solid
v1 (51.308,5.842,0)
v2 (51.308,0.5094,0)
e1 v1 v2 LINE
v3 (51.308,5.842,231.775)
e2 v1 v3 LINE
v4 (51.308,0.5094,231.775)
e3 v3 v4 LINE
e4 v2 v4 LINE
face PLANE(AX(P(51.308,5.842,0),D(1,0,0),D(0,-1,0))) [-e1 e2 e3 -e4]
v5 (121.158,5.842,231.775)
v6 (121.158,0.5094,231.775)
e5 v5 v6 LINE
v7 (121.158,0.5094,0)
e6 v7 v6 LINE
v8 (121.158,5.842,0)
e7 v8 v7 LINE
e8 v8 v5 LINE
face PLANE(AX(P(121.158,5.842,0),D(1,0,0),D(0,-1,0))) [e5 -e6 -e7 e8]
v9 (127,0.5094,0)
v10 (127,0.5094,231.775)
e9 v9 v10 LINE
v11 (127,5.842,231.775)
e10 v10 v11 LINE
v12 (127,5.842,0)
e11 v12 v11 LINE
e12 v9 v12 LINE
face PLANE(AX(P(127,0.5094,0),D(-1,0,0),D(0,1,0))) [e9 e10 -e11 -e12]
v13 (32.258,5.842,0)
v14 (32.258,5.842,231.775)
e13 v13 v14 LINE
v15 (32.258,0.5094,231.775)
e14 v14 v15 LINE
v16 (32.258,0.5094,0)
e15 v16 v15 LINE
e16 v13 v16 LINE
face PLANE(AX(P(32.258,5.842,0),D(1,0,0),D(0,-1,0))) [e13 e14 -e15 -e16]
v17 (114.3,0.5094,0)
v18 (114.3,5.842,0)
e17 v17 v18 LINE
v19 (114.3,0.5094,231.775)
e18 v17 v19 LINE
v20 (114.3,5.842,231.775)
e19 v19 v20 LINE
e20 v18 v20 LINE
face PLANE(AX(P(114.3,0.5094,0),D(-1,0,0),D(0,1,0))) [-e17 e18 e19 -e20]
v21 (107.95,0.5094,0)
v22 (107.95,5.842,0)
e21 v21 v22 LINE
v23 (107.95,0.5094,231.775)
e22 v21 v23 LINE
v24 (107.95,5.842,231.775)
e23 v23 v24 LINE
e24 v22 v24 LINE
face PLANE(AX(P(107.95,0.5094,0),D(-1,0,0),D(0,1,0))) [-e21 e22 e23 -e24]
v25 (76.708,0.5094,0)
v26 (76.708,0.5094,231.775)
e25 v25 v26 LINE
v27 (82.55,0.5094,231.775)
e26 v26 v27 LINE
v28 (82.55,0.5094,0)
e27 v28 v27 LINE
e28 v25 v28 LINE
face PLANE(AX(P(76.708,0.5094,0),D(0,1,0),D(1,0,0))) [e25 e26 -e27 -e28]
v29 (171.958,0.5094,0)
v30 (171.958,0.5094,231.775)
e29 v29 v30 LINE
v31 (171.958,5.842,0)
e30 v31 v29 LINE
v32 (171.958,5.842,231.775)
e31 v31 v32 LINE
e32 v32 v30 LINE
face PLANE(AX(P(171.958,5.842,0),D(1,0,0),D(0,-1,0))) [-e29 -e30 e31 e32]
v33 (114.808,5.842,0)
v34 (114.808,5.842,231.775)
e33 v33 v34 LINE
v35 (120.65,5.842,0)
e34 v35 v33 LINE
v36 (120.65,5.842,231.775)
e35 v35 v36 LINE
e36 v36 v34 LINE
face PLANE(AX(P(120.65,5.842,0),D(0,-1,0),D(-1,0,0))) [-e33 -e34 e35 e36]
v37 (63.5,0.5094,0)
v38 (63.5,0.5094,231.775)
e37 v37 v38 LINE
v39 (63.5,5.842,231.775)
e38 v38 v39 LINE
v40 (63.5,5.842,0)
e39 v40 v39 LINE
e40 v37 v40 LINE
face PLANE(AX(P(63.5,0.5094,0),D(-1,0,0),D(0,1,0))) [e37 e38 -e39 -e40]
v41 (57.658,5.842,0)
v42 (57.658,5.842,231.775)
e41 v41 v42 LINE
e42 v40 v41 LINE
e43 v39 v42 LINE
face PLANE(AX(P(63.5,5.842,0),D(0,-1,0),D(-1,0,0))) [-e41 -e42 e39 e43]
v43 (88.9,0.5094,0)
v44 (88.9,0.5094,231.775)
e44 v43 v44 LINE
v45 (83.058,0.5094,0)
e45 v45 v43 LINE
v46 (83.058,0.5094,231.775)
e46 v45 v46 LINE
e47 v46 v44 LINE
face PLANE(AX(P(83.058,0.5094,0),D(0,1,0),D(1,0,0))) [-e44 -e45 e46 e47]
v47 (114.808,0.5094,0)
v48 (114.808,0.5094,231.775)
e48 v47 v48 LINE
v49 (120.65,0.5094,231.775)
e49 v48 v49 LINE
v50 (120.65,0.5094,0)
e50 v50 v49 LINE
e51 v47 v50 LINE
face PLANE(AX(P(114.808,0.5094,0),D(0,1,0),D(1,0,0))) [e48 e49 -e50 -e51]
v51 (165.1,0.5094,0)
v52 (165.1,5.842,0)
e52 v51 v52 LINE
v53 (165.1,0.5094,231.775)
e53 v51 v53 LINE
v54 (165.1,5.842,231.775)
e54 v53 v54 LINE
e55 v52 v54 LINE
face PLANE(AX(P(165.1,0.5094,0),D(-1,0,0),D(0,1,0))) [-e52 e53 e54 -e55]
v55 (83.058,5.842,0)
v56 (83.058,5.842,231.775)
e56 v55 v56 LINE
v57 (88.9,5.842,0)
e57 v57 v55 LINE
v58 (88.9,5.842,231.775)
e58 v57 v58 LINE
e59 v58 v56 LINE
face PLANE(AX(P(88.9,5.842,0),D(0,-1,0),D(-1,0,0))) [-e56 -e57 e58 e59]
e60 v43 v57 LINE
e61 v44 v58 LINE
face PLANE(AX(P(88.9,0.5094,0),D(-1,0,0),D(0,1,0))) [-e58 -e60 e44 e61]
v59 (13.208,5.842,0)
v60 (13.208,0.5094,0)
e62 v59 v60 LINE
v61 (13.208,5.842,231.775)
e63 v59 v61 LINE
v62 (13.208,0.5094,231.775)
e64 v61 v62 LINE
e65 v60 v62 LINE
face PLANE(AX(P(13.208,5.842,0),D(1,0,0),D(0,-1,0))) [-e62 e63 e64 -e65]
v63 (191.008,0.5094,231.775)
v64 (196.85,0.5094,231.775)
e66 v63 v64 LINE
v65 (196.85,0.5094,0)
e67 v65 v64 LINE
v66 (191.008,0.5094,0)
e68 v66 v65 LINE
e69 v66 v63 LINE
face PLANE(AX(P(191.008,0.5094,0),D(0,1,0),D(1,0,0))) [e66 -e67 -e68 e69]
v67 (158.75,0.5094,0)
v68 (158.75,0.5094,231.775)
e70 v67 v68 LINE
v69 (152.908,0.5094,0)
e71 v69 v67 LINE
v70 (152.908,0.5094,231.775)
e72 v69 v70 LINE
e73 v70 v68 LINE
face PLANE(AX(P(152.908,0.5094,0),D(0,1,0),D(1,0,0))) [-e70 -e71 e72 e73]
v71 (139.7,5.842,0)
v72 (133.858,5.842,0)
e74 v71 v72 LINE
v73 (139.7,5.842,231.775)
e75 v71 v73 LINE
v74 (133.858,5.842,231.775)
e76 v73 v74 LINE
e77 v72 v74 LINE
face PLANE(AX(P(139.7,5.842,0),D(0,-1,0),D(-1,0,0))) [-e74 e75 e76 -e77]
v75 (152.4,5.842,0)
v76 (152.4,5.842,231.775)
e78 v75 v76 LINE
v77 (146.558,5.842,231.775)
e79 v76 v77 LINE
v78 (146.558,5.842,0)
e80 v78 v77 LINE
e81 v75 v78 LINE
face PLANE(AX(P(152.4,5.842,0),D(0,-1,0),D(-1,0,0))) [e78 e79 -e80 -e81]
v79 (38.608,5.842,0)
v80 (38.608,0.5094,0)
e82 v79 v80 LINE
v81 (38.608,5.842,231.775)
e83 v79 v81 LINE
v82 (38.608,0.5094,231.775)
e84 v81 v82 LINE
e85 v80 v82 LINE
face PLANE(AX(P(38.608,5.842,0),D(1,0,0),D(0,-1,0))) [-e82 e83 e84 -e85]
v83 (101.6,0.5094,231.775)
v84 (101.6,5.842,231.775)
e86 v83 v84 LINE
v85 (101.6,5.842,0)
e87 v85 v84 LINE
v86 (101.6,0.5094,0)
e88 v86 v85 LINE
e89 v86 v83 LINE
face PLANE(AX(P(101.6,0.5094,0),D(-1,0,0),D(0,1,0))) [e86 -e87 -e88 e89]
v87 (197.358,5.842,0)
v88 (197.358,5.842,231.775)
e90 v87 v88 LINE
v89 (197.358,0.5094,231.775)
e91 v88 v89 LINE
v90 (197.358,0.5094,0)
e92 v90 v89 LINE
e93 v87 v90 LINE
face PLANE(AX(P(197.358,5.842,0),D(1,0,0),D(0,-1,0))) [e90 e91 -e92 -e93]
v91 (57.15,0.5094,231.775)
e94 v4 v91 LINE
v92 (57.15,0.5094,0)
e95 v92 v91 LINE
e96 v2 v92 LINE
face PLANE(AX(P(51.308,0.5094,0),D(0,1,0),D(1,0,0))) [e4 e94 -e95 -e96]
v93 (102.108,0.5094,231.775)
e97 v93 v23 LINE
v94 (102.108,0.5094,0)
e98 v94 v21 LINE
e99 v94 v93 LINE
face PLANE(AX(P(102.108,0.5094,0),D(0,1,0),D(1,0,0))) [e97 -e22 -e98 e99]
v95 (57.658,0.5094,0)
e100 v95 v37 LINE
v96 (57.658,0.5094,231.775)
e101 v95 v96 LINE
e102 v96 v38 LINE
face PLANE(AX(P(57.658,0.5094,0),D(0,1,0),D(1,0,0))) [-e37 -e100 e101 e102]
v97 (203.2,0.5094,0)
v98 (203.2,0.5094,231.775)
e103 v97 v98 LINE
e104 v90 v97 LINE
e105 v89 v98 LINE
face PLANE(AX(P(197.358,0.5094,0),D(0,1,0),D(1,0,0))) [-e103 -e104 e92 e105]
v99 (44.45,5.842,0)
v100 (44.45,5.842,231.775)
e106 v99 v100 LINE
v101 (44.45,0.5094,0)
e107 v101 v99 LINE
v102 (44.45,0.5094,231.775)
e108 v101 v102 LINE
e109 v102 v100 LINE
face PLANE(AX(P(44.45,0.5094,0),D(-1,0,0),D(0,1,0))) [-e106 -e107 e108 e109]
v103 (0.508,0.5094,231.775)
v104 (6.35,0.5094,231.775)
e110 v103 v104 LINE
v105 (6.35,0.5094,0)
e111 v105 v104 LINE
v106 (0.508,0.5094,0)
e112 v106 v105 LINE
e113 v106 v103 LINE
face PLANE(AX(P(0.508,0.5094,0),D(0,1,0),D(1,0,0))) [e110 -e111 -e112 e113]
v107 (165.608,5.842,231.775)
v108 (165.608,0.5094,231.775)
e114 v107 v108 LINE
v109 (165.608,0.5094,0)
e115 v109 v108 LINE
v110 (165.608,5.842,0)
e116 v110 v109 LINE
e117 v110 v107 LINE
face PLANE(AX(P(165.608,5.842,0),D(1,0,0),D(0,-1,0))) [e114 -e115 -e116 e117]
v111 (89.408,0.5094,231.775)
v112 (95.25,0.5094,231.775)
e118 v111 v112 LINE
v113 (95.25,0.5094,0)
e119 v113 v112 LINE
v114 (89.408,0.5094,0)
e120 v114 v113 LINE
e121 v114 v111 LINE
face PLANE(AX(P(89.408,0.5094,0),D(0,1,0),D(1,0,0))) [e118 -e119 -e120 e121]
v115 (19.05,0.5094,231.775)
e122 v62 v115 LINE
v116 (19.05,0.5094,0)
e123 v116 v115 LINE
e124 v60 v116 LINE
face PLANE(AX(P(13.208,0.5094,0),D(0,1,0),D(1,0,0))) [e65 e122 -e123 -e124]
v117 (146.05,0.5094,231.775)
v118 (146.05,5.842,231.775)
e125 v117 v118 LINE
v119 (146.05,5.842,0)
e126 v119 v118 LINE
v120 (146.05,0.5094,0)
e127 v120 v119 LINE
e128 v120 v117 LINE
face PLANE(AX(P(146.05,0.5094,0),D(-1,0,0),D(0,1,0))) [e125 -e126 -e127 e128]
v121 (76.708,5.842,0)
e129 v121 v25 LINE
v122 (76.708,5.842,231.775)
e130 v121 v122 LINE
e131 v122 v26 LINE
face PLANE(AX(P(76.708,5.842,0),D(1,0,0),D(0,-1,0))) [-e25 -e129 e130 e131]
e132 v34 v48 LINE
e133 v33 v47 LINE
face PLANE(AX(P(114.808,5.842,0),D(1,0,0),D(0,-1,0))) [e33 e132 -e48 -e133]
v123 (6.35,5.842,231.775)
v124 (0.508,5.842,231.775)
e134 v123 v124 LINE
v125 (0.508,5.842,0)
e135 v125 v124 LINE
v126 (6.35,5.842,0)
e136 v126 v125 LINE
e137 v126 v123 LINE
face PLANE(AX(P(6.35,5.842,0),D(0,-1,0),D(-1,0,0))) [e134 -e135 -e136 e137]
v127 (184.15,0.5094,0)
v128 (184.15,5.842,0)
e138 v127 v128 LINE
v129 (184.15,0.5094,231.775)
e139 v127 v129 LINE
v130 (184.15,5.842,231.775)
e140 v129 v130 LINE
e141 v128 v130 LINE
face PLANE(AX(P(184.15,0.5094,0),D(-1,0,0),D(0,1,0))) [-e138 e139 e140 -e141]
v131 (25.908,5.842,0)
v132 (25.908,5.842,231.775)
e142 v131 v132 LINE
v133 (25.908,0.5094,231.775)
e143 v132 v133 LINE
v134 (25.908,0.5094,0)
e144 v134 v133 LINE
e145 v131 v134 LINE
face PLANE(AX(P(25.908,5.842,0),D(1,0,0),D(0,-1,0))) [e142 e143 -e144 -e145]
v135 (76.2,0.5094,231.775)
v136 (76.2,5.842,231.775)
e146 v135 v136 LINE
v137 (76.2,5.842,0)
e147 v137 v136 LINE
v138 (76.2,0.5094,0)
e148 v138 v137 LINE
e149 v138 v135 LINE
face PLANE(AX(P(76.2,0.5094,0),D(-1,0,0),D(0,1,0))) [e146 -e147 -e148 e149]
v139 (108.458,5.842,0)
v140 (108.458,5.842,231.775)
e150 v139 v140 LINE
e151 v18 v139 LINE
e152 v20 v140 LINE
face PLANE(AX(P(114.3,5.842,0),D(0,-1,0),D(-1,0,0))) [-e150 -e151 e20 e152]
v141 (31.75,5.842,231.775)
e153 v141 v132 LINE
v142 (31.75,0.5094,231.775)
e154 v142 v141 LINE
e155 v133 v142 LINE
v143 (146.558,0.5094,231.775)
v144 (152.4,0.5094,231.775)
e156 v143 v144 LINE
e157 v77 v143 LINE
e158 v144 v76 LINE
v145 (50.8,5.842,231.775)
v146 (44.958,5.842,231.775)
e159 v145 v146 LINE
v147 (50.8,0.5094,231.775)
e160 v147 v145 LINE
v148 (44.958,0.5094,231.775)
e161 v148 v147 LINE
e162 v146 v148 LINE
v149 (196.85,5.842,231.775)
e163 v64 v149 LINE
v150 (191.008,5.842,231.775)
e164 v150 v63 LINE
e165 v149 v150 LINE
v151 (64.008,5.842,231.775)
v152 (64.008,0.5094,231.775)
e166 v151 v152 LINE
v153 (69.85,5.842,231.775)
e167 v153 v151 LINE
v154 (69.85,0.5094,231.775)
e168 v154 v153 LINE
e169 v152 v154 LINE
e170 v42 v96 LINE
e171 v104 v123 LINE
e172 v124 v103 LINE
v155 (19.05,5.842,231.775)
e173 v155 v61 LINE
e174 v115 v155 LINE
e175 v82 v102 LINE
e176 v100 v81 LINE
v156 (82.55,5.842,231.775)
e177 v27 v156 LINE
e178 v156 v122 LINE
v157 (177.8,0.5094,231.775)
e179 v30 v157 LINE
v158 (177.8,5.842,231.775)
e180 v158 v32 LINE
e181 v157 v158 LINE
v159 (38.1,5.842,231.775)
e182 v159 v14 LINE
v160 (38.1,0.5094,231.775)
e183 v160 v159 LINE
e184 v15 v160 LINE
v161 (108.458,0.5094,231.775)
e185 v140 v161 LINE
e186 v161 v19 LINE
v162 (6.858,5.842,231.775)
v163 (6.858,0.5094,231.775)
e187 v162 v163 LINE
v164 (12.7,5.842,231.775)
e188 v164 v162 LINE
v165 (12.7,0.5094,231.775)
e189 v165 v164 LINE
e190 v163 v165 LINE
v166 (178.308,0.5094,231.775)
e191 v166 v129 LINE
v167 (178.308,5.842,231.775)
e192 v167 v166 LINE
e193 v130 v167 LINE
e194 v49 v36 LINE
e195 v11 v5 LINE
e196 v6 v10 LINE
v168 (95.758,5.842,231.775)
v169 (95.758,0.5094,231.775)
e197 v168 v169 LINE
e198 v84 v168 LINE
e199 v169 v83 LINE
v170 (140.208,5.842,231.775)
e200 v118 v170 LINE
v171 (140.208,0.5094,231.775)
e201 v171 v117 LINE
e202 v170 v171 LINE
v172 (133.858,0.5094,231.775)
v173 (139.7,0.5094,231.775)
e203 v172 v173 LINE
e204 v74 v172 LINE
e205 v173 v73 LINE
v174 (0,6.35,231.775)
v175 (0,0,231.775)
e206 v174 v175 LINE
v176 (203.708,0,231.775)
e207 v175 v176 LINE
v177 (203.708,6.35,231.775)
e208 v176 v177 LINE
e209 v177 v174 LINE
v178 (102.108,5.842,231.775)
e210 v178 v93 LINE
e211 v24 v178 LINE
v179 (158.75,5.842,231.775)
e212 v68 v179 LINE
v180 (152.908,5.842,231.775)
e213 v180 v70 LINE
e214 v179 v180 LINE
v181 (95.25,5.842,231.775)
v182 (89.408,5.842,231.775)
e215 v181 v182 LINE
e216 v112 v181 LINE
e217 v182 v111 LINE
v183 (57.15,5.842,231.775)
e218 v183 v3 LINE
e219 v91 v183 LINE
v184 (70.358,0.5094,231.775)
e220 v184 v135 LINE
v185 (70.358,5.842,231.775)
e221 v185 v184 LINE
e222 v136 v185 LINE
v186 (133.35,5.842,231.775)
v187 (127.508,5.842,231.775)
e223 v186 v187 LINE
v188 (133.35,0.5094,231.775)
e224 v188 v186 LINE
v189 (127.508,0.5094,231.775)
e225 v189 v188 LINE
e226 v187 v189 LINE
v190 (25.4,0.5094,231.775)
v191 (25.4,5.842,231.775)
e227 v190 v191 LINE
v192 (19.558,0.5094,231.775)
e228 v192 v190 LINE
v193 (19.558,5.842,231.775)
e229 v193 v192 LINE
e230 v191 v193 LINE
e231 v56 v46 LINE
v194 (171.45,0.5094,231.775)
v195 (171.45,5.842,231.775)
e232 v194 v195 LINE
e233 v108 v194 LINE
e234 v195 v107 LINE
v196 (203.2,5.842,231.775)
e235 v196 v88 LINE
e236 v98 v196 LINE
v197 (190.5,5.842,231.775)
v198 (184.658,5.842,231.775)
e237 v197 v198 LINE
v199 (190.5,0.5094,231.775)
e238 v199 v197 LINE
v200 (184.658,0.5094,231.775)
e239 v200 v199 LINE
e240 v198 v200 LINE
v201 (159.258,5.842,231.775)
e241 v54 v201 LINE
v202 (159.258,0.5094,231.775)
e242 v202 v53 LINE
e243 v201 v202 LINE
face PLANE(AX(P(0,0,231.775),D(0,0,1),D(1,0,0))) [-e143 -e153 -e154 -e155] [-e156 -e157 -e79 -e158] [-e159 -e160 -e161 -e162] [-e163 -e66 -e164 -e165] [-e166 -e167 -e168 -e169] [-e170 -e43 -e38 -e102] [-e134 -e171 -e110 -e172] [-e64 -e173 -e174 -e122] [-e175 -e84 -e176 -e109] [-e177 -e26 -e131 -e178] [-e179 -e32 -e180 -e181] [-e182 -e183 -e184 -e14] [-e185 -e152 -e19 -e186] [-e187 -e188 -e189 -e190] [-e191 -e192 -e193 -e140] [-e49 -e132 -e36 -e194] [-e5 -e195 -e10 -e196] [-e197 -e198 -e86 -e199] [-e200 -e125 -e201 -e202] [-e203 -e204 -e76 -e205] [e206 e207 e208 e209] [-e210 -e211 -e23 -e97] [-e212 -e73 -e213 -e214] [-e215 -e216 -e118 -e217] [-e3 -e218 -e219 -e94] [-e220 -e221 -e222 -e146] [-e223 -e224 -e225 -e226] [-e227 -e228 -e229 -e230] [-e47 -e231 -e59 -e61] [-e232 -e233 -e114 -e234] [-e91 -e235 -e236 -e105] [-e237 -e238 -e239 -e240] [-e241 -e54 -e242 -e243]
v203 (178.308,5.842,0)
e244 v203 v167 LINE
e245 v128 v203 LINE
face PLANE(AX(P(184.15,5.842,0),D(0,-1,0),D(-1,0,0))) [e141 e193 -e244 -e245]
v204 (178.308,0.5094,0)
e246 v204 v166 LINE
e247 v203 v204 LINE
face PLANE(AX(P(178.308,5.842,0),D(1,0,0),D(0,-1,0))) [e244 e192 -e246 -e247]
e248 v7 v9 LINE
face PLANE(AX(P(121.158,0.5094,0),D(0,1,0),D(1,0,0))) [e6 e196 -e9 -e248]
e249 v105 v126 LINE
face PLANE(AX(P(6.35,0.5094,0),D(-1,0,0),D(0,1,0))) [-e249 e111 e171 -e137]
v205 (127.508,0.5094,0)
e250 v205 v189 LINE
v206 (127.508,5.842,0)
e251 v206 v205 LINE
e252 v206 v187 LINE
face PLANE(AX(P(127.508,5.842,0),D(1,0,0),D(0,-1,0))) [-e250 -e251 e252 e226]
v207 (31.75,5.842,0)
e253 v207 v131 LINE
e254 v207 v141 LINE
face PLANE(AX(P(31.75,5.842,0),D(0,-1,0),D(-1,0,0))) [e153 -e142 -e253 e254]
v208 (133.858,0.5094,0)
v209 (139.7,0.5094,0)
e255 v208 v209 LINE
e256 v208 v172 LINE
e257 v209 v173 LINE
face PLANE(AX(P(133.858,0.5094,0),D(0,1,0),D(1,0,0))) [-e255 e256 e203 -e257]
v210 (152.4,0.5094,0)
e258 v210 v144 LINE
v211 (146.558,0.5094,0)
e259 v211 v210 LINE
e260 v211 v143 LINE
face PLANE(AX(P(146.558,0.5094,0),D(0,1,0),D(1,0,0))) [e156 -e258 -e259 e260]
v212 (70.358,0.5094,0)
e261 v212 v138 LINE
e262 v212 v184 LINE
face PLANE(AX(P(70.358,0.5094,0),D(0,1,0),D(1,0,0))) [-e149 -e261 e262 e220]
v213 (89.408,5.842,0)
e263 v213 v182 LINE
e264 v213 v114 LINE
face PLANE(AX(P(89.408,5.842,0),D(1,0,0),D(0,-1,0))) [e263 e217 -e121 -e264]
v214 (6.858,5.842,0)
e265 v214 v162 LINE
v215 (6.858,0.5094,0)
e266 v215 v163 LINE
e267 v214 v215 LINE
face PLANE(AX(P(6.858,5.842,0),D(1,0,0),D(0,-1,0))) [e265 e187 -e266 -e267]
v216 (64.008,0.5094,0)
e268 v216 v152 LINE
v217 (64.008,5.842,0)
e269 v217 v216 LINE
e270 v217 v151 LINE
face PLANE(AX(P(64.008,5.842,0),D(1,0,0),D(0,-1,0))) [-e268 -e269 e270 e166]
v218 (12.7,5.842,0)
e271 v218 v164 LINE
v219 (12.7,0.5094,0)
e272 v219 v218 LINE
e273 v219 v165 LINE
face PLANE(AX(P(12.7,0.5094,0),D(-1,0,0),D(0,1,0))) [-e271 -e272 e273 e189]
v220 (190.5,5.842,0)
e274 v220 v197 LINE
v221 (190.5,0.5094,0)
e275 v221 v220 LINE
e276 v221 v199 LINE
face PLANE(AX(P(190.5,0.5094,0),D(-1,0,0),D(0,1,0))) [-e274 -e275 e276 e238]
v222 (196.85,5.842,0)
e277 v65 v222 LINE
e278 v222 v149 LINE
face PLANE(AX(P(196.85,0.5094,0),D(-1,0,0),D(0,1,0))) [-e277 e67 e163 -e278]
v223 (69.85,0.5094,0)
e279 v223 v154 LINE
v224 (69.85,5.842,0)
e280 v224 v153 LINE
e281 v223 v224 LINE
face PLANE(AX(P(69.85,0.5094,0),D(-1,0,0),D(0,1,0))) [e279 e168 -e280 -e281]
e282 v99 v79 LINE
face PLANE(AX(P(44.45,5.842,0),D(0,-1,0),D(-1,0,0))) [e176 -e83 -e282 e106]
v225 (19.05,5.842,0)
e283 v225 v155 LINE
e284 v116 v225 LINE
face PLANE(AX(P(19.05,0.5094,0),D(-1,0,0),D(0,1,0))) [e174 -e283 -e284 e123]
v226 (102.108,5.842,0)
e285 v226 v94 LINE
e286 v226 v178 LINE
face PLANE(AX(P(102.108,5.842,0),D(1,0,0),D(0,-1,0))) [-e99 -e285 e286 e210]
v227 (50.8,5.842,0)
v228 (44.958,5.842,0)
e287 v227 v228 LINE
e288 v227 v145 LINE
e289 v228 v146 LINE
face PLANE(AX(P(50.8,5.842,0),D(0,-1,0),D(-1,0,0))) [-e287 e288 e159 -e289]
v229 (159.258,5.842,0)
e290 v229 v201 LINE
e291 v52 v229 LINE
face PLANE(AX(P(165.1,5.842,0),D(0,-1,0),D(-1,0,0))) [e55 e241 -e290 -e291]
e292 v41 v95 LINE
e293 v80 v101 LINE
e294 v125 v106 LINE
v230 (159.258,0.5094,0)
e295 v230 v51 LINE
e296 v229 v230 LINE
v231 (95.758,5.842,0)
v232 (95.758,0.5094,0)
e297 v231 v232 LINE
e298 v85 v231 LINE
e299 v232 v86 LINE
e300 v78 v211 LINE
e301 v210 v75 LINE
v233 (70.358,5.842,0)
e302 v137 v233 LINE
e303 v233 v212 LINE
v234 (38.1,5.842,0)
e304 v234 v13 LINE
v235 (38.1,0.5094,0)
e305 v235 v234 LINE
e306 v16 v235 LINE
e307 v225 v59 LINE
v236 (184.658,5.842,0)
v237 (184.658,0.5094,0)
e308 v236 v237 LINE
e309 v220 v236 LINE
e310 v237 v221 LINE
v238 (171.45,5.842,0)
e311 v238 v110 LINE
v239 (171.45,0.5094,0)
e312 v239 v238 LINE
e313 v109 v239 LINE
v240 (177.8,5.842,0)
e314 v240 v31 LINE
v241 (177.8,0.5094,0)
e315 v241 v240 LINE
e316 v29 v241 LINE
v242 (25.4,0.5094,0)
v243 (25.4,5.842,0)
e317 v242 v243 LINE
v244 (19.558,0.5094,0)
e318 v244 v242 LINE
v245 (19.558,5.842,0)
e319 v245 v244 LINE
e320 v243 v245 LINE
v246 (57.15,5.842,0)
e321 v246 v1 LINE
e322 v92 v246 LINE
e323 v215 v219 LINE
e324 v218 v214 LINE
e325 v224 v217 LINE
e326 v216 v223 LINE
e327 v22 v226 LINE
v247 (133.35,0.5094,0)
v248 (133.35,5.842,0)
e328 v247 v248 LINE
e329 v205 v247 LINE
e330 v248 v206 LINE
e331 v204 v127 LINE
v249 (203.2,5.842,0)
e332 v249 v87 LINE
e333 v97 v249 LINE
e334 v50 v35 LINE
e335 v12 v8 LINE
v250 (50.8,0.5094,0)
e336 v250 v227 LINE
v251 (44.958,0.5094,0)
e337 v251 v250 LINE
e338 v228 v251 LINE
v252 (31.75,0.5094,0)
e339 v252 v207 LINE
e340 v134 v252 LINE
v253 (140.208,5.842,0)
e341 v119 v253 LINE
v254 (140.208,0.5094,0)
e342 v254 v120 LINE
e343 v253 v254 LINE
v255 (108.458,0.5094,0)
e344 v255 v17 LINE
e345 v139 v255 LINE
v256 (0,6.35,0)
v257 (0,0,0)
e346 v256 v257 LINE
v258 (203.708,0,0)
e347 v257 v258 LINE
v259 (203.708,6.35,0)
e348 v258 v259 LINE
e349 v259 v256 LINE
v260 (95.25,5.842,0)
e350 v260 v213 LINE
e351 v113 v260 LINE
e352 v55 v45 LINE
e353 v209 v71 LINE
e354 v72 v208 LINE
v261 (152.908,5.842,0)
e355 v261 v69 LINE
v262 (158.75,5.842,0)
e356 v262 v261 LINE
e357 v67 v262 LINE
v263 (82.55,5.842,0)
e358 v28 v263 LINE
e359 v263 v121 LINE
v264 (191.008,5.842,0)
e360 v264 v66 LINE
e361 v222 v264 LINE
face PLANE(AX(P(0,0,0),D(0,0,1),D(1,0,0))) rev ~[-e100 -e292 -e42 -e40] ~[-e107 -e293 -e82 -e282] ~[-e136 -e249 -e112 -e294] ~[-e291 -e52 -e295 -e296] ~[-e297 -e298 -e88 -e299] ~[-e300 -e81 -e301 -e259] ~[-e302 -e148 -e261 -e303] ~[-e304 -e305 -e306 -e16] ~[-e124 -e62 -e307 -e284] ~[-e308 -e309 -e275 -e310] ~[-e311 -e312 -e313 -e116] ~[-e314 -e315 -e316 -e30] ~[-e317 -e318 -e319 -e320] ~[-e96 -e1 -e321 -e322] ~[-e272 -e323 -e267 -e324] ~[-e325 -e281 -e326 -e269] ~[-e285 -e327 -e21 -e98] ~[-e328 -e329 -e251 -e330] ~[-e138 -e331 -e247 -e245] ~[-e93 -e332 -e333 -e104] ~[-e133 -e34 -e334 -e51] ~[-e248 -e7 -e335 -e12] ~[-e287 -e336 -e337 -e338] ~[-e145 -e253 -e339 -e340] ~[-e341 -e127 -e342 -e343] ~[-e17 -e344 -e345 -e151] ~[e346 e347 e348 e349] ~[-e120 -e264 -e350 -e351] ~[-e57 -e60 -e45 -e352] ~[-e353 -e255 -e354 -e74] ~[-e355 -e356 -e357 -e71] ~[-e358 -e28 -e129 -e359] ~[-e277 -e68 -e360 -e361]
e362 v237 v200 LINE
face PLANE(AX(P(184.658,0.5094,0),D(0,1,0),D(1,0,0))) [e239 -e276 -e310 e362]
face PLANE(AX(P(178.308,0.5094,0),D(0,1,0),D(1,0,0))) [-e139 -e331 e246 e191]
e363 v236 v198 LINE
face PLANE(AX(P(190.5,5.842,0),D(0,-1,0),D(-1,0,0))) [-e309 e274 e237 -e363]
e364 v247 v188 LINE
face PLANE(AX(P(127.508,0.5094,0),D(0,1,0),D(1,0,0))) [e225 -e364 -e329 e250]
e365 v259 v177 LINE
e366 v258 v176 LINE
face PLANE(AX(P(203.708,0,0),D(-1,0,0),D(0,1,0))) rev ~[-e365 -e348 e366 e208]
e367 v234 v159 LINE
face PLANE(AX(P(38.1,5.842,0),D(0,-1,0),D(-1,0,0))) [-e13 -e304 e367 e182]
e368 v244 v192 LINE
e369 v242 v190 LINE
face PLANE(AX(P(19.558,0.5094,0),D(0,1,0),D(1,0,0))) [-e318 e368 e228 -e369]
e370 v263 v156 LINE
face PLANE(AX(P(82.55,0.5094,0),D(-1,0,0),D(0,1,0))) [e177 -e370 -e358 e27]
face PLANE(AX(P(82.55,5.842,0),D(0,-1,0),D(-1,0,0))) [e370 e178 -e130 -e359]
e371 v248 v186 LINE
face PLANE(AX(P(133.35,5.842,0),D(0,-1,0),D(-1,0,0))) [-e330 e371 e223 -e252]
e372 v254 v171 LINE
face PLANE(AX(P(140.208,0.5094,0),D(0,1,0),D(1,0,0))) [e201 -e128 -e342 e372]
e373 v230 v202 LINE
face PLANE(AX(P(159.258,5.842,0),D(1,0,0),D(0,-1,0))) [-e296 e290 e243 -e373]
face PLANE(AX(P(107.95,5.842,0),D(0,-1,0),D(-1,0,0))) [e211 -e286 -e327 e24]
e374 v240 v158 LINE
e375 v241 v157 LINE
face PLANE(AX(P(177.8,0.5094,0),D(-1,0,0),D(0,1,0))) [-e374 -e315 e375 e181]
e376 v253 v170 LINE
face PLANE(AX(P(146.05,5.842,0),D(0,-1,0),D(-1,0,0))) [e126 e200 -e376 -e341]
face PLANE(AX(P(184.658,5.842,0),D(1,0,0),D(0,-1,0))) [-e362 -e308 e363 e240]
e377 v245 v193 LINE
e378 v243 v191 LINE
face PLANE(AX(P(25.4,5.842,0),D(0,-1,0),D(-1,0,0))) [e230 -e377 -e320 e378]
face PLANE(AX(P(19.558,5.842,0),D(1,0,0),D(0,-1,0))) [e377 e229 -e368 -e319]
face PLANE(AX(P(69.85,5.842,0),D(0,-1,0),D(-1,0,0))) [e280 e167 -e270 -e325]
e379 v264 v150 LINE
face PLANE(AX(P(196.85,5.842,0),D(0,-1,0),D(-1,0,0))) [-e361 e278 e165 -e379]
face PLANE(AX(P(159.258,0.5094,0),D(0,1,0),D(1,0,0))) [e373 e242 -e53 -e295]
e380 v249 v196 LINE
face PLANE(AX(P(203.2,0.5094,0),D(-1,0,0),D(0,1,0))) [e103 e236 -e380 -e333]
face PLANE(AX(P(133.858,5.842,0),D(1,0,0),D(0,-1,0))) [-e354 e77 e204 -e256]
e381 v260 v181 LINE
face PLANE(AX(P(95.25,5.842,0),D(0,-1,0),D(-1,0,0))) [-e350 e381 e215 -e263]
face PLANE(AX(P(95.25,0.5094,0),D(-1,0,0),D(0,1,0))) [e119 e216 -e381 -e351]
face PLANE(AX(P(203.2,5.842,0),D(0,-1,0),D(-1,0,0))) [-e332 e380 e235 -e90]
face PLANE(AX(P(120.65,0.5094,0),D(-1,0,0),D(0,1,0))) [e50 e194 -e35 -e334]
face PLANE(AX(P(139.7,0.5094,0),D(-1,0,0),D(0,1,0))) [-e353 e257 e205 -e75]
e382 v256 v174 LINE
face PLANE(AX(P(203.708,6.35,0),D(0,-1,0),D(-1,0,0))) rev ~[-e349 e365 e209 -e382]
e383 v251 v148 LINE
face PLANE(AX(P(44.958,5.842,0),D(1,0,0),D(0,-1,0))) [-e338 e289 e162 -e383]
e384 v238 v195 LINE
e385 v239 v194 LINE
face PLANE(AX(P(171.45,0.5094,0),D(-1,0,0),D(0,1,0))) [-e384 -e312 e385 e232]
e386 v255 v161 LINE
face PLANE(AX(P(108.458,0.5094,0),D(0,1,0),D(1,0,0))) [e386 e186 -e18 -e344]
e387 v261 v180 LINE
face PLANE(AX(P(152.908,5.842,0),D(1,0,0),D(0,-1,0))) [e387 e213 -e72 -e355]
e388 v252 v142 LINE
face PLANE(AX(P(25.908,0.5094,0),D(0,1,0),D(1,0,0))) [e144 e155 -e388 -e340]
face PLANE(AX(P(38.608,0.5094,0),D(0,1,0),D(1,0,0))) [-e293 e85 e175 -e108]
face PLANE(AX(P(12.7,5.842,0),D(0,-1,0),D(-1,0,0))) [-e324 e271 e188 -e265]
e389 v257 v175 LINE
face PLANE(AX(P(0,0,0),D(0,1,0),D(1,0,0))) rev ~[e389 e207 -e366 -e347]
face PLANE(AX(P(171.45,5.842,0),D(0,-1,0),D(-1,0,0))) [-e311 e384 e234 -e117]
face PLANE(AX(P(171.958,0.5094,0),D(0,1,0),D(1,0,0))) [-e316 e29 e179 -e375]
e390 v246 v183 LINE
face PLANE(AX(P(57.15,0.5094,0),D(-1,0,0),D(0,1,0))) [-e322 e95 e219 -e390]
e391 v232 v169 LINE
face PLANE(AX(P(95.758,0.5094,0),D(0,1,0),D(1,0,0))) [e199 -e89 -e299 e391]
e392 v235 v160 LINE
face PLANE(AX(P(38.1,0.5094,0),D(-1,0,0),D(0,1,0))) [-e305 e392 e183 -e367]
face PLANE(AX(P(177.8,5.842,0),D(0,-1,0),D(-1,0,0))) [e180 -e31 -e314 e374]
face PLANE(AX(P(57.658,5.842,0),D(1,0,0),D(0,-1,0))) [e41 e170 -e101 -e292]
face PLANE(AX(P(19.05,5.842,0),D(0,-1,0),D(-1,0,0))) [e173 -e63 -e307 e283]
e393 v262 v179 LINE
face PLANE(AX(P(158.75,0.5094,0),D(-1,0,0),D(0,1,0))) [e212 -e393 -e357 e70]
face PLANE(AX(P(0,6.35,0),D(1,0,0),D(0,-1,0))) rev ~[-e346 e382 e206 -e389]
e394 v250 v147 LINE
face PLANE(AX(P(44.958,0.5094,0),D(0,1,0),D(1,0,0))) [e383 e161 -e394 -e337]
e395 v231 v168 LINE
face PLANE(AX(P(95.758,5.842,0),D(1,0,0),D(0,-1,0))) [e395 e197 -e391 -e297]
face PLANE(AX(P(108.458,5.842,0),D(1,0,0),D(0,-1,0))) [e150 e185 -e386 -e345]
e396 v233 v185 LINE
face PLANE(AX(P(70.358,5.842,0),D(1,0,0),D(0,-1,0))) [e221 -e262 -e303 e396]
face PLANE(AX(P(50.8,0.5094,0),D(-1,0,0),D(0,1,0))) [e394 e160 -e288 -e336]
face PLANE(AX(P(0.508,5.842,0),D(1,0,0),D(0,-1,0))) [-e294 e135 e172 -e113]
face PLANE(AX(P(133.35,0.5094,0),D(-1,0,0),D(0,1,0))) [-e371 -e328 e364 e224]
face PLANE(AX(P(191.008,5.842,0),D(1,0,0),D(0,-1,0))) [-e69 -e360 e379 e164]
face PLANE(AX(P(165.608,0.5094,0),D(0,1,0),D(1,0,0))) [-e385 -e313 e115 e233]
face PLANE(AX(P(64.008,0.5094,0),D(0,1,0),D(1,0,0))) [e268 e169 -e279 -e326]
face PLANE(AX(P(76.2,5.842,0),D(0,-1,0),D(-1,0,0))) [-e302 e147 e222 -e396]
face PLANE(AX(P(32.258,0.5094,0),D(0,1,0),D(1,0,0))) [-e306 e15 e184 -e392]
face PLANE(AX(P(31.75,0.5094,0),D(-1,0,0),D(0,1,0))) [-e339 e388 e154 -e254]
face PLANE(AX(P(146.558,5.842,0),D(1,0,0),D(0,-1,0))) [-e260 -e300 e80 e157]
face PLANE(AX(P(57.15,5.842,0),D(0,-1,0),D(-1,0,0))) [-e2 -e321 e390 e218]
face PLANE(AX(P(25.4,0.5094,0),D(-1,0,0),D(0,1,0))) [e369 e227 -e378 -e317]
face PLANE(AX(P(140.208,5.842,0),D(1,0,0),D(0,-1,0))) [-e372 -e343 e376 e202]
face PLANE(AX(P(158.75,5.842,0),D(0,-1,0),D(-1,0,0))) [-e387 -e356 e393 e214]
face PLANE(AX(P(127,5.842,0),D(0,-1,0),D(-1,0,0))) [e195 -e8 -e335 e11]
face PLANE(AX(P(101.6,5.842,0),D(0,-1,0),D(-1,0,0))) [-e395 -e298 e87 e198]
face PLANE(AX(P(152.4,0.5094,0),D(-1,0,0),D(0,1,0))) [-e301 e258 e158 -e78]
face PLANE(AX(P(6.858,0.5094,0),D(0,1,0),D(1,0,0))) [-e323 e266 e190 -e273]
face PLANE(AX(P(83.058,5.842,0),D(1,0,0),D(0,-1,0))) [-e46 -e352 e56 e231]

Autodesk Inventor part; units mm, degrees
ref_plane "YZ Plane" through (0, 0, 0) normal (1, 0, 0) x (0, 1, 0)
ref_plane "XZ Plane" through (0, 0, 0) normal (0, 1, 0) x (-1, 0, 0)
ref_plane "XY Plane" through (0, 0, 0) normal (0, 0, 1) x (1, 0, 0)
sketch "Sketch1" plane through (0, 0, 0) normal (0, 0, 1) x (1, 0, 0)
  line L0 (0, 0) -> (203.708, 0)
  line L1 (203.708, 0) -> (203.708, 6.35)
  line L2 (203.708, 6.35) -> (0, 6.35)
  line L3 (0, 6.35) -> (0, 0)
  line L4 (0.508, 0.5094) -> (6.35, 0.5094)
  line L5 (6.35, 0.5094) -> (6.35, 5.842)
  line L6 (6.35, 5.842) -> (0.508, 5.842)
  line L7 (0.508, 5.842) -> (0.508, 0.5094)
  line L8 (6.858, 0.5094) -> (12.7, 0.5094)
  line L9 (12.7, 0.5094) -> (12.7, 5.842)
  line L10 (12.7, 5.842) -> (6.858, 5.842)
  line L11 (6.858, 5.842) -> (6.858, 0.5094)
  line L12 (13.208, 0.5094) -> (19.05, 0.5094)
  line L13 (19.05, 0.5094) -> (19.05, 5.842)
  line L14 (19.05, 5.842) -> (13.208, 5.842)
  line L15 (13.208, 5.842) -> (13.208, 0.5094)
  line L16 (19.558, 0.5094) -> (25.4, 0.5094)
  line L17 (25.4, 0.5094) -> (25.4, 5.842)
  line L18 (25.4, 5.842) -> (19.558, 5.842)
  line L19 (19.558, 5.842) -> (19.558, 0.5094)
  line L20 (25.908, 0.5094) -> (31.75, 0.5094)
  line L21 (31.75, 0.5094) -> (31.75, 5.842)
  line L22 (31.75, 5.842) -> (25.908, 5.842)
  line L23 (25.908, 5.842) -> (25.908, 0.5094)
  line L24 (32.258, 0.5094) -> (38.1, 0.5094)
  line L25 (38.1, 0.5094) -> (38.1, 5.842)
  line L26 (38.1, 5.842) -> (32.258, 5.842)
  line L27 (32.258, 5.842) -> (32.258, 0.5094)
  line L28 (38.608, 0.5094) -> (44.45, 0.5094)
  line L29 (44.45, 0.5094) -> (44.45, 5.842)
  line L30 (44.45, 5.842) -> (38.608, 5.842)
  line L31 (38.608, 5.842) -> (38.608, 0.5094)
  line L32 (44.958, 0.5094) -> (50.8, 0.5094)
  line L33 (50.8, 0.5094) -> (50.8, 5.842)
  line L34 (50.8, 5.842) -> (44.958, 5.842)
  line L35 (44.958, 5.842) -> (44.958, 0.5094)
  line L36 (51.308, 0.5094) -> (57.15, 0.5094)
  line L37 (57.15, 0.5094) -> (57.15, 5.842)
  line L38 (57.15, 5.842) -> (51.308, 5.842)
  line L39 (51.308, 5.842) -> (51.308, 0.5094)
  line L40 (57.658, 0.5094) -> (63.5, 0.5094)
  line L41 (63.5, 0.5094) -> (63.5, 5.842)
  line L42 (63.5, 5.842) -> (57.658, 5.842)
  line L43 (57.658, 5.842) -> (57.658, 0.5094)
  line L44 (64.008, 0.5094) -> (69.85, 0.5094)
  line L45 (69.85, 0.5094) -> (69.85, 5.842)
  line L46 (69.85, 5.842) -> (64.008, 5.842)
  line L47 (64.008, 5.842) -> (64.008, 0.5094)
  line L48 (70.358, 0.5094) -> (76.2, 0.5094)
  line L49 (76.2, 0.5094) -> (76.2, 5.842)
  line L50 (76.2, 5.842) -> (70.358, 5.842)
  line L51 (70.358, 5.842) -> (70.358, 0.5094)
  line L52 (76.708, 0.5094) -> (82.55, 0.5094)
  line L53 (82.55, 0.5094) -> (82.55, 5.842)
  line L54 (82.55, 5.842) -> (76.708, 5.842)
  line L55 (76.708, 5.842) -> (76.708, 0.5094)
  line L56 (83.058, 0.5094) -> (88.9, 0.5094)
  line L57 (88.9, 0.5094) -> (88.9, 5.842)
  line L58 (88.9, 5.842) -> (83.058, 5.842)
  line L59 (83.058, 5.842) -> (83.058, 0.5094)
  line L60 (89.408, 0.5094) -> (95.25, 0.5094)
  line L61 (95.25, 0.5094) -> (95.25, 5.842)
  line L62 (95.25, 5.842) -> (89.408, 5.842)
  line L63 (89.408, 5.842) -> (89.408, 0.5094)
  line L64 (95.758, 0.5094) -> (101.6, 0.5094)
  line L65 (101.6, 0.5094) -> (101.6, 5.842)
  line L66 (101.6, 5.842) -> (95.758, 5.842)
  line L67 (95.758, 5.842) -> (95.758, 0.5094)
  line L68 (102.108, 0.5094) -> (107.95, 0.5094)
  line L69 (107.95, 0.5094) -> (107.95, 5.842)
  line L70 (107.95, 5.842) -> (102.108, 5.842)
  line L71 (102.108, 5.842) -> (102.108, 0.5094)
  line L72 (108.458, 0.5094) -> (114.3, 0.5094)
  line L73 (114.3, 0.5094) -> (114.3, 5.842)
  line L74 (114.3, 5.842) -> (108.458, 5.842)
  line L75 (108.458, 5.842) -> (108.458, 0.5094)
  line L76 (114.808, 0.5094) -> (120.65, 0.5094)
  line L77 (120.65, 0.5094) -> (120.65, 5.842)
  line L78 (120.65, 5.842) -> (114.808, 5.842)
  line L79 (114.808, 5.842) -> (114.808, 0.5094)
  line L80 (121.158, 0.5094) -> (127, 0.5094)
  line L81 (127, 0.5094) -> (127, 5.842)
  line L82 (127, 5.842) -> (121.158, 5.842)
  line L83 (121.158, 5.842) -> (121.158, 0.5094)
  line L84 (127.508, 0.5094) -> (133.35, 0.5094)
  line L85 (133.35, 0.5094) -> (133.35, 5.842)
  line L86 (133.35, 5.842) -> (127.508, 5.842)
  line L87 (127.508, 5.842) -> (127.508, 0.5094)
  line L88 (133.858, 0.5094) -> (139.7, 0.5094)
  line L89 (139.7, 0.5094) -> (139.7, 5.842)
  line L90 (139.7, 5.842) -> (133.858, 5.842)
  line L91 (133.858, 5.842) -> (133.858, 0.5094)
  line L92 (140.208, 0.5094) -> (146.05, 0.5094)
  line L93 (146.05, 0.5094) -> (146.05, 5.842)
  line L94 (146.05, 5.842) -> (140.208, 5.842)
  line L95 (140.208, 5.842) -> (140.208, 0.5094)
  line L96 (146.558, 0.5094) -> (152.4, 0.5094)
  line L97 (152.4, 0.5094) -> (152.4, 5.842)
  line L98 (152.4, 5.842) -> (146.558, 5.842)
  line L99 (146.558, 5.842) -> (146.558, 0.5094)
  line L100 (152.908, 0.5094) -> (158.75, 0.5094)
  line L101 (158.75, 0.5094) -> (158.75, 5.842)
  line L102 (158.75, 5.842) -> (152.908, 5.842)
  line L103 (152.908, 5.842) -> (152.908, 0.5094)
  line L104 (159.258, 0.5094) -> (165.1, 0.5094)
  line L105 (165.1, 0.5094) -> (165.1, 5.842)
  line L106 (165.1, 5.842) -> (159.258, 5.842)
  line L107 (159.258, 5.842) -> (159.258, 0.5094)
  line L108 (165.608, 0.5094) -> (171.45, 0.5094)
  line L109 (171.45, 0.5094) -> (171.45, 5.842)
  line L110 (171.45, 5.842) -> (165.608, 5.842)
  line L111 (165.608, 5.842) -> (165.608, 0.5094)
  line L112 (171.958, 0.5094) -> (177.8, 0.5094)
  line L113 (177.8, 0.5094) -> (177.8, 5.842)
  line L114 (177.8, 5.842) -> (171.958, 5.842)
  line L115 (171.958, 5.842) -> (171.958, 0.5094)
  line L116 (178.308, 0.5094) -> (184.15, 0.5094)
  line L117 (184.15, 0.5094) -> (184.15, 5.842)
  line L118 (184.15, 5.842) -> (178.308, 5.842)
  line L119 (178.308, 5.842) -> (178.308, 0.5094)
  line L120 (184.658, 0.5094) -> (190.5, 0.5094)
  line L121 (190.5, 0.5094) -> (190.5, 5.842)
  line L122 (190.5, 5.842) -> (184.658, 5.842)
  line L123 (184.658, 5.842) -> (184.658, 0.5094)
  line L124 (191.008, 0.5094) -> (196.85, 0.5094)
  line L125 (196.85, 0.5094) -> (196.85, 5.842)
  line L126 (196.85, 5.842) -> (191.008, 5.842)
  line L127 (191.008, 5.842) -> (191.008, 0.5094)
  line L128 (197.358, 0.5094) -> (203.2, 0.5094)
  line L129 (203.2, 0.5094) -> (203.2, 5.842)
  line L130 (203.2, 5.842) -> (197.358, 5.842)
  line L131 (197.358, 5.842) -> (197.358, 0.5094)
  dimension "d0" = 203.708
  dimension "d1" = 6.35
  dimension "d2" = 0.5094
  dimension "d3" = 0.508
  dimension "d4" = 0.508
  dimension "d5" = 5.842
  dimension "d8" = 6.35
extrude "Extrusion1" add sketch "Sketch1" along normal blind 231.775
properties part number "8 ball polycarb top"
